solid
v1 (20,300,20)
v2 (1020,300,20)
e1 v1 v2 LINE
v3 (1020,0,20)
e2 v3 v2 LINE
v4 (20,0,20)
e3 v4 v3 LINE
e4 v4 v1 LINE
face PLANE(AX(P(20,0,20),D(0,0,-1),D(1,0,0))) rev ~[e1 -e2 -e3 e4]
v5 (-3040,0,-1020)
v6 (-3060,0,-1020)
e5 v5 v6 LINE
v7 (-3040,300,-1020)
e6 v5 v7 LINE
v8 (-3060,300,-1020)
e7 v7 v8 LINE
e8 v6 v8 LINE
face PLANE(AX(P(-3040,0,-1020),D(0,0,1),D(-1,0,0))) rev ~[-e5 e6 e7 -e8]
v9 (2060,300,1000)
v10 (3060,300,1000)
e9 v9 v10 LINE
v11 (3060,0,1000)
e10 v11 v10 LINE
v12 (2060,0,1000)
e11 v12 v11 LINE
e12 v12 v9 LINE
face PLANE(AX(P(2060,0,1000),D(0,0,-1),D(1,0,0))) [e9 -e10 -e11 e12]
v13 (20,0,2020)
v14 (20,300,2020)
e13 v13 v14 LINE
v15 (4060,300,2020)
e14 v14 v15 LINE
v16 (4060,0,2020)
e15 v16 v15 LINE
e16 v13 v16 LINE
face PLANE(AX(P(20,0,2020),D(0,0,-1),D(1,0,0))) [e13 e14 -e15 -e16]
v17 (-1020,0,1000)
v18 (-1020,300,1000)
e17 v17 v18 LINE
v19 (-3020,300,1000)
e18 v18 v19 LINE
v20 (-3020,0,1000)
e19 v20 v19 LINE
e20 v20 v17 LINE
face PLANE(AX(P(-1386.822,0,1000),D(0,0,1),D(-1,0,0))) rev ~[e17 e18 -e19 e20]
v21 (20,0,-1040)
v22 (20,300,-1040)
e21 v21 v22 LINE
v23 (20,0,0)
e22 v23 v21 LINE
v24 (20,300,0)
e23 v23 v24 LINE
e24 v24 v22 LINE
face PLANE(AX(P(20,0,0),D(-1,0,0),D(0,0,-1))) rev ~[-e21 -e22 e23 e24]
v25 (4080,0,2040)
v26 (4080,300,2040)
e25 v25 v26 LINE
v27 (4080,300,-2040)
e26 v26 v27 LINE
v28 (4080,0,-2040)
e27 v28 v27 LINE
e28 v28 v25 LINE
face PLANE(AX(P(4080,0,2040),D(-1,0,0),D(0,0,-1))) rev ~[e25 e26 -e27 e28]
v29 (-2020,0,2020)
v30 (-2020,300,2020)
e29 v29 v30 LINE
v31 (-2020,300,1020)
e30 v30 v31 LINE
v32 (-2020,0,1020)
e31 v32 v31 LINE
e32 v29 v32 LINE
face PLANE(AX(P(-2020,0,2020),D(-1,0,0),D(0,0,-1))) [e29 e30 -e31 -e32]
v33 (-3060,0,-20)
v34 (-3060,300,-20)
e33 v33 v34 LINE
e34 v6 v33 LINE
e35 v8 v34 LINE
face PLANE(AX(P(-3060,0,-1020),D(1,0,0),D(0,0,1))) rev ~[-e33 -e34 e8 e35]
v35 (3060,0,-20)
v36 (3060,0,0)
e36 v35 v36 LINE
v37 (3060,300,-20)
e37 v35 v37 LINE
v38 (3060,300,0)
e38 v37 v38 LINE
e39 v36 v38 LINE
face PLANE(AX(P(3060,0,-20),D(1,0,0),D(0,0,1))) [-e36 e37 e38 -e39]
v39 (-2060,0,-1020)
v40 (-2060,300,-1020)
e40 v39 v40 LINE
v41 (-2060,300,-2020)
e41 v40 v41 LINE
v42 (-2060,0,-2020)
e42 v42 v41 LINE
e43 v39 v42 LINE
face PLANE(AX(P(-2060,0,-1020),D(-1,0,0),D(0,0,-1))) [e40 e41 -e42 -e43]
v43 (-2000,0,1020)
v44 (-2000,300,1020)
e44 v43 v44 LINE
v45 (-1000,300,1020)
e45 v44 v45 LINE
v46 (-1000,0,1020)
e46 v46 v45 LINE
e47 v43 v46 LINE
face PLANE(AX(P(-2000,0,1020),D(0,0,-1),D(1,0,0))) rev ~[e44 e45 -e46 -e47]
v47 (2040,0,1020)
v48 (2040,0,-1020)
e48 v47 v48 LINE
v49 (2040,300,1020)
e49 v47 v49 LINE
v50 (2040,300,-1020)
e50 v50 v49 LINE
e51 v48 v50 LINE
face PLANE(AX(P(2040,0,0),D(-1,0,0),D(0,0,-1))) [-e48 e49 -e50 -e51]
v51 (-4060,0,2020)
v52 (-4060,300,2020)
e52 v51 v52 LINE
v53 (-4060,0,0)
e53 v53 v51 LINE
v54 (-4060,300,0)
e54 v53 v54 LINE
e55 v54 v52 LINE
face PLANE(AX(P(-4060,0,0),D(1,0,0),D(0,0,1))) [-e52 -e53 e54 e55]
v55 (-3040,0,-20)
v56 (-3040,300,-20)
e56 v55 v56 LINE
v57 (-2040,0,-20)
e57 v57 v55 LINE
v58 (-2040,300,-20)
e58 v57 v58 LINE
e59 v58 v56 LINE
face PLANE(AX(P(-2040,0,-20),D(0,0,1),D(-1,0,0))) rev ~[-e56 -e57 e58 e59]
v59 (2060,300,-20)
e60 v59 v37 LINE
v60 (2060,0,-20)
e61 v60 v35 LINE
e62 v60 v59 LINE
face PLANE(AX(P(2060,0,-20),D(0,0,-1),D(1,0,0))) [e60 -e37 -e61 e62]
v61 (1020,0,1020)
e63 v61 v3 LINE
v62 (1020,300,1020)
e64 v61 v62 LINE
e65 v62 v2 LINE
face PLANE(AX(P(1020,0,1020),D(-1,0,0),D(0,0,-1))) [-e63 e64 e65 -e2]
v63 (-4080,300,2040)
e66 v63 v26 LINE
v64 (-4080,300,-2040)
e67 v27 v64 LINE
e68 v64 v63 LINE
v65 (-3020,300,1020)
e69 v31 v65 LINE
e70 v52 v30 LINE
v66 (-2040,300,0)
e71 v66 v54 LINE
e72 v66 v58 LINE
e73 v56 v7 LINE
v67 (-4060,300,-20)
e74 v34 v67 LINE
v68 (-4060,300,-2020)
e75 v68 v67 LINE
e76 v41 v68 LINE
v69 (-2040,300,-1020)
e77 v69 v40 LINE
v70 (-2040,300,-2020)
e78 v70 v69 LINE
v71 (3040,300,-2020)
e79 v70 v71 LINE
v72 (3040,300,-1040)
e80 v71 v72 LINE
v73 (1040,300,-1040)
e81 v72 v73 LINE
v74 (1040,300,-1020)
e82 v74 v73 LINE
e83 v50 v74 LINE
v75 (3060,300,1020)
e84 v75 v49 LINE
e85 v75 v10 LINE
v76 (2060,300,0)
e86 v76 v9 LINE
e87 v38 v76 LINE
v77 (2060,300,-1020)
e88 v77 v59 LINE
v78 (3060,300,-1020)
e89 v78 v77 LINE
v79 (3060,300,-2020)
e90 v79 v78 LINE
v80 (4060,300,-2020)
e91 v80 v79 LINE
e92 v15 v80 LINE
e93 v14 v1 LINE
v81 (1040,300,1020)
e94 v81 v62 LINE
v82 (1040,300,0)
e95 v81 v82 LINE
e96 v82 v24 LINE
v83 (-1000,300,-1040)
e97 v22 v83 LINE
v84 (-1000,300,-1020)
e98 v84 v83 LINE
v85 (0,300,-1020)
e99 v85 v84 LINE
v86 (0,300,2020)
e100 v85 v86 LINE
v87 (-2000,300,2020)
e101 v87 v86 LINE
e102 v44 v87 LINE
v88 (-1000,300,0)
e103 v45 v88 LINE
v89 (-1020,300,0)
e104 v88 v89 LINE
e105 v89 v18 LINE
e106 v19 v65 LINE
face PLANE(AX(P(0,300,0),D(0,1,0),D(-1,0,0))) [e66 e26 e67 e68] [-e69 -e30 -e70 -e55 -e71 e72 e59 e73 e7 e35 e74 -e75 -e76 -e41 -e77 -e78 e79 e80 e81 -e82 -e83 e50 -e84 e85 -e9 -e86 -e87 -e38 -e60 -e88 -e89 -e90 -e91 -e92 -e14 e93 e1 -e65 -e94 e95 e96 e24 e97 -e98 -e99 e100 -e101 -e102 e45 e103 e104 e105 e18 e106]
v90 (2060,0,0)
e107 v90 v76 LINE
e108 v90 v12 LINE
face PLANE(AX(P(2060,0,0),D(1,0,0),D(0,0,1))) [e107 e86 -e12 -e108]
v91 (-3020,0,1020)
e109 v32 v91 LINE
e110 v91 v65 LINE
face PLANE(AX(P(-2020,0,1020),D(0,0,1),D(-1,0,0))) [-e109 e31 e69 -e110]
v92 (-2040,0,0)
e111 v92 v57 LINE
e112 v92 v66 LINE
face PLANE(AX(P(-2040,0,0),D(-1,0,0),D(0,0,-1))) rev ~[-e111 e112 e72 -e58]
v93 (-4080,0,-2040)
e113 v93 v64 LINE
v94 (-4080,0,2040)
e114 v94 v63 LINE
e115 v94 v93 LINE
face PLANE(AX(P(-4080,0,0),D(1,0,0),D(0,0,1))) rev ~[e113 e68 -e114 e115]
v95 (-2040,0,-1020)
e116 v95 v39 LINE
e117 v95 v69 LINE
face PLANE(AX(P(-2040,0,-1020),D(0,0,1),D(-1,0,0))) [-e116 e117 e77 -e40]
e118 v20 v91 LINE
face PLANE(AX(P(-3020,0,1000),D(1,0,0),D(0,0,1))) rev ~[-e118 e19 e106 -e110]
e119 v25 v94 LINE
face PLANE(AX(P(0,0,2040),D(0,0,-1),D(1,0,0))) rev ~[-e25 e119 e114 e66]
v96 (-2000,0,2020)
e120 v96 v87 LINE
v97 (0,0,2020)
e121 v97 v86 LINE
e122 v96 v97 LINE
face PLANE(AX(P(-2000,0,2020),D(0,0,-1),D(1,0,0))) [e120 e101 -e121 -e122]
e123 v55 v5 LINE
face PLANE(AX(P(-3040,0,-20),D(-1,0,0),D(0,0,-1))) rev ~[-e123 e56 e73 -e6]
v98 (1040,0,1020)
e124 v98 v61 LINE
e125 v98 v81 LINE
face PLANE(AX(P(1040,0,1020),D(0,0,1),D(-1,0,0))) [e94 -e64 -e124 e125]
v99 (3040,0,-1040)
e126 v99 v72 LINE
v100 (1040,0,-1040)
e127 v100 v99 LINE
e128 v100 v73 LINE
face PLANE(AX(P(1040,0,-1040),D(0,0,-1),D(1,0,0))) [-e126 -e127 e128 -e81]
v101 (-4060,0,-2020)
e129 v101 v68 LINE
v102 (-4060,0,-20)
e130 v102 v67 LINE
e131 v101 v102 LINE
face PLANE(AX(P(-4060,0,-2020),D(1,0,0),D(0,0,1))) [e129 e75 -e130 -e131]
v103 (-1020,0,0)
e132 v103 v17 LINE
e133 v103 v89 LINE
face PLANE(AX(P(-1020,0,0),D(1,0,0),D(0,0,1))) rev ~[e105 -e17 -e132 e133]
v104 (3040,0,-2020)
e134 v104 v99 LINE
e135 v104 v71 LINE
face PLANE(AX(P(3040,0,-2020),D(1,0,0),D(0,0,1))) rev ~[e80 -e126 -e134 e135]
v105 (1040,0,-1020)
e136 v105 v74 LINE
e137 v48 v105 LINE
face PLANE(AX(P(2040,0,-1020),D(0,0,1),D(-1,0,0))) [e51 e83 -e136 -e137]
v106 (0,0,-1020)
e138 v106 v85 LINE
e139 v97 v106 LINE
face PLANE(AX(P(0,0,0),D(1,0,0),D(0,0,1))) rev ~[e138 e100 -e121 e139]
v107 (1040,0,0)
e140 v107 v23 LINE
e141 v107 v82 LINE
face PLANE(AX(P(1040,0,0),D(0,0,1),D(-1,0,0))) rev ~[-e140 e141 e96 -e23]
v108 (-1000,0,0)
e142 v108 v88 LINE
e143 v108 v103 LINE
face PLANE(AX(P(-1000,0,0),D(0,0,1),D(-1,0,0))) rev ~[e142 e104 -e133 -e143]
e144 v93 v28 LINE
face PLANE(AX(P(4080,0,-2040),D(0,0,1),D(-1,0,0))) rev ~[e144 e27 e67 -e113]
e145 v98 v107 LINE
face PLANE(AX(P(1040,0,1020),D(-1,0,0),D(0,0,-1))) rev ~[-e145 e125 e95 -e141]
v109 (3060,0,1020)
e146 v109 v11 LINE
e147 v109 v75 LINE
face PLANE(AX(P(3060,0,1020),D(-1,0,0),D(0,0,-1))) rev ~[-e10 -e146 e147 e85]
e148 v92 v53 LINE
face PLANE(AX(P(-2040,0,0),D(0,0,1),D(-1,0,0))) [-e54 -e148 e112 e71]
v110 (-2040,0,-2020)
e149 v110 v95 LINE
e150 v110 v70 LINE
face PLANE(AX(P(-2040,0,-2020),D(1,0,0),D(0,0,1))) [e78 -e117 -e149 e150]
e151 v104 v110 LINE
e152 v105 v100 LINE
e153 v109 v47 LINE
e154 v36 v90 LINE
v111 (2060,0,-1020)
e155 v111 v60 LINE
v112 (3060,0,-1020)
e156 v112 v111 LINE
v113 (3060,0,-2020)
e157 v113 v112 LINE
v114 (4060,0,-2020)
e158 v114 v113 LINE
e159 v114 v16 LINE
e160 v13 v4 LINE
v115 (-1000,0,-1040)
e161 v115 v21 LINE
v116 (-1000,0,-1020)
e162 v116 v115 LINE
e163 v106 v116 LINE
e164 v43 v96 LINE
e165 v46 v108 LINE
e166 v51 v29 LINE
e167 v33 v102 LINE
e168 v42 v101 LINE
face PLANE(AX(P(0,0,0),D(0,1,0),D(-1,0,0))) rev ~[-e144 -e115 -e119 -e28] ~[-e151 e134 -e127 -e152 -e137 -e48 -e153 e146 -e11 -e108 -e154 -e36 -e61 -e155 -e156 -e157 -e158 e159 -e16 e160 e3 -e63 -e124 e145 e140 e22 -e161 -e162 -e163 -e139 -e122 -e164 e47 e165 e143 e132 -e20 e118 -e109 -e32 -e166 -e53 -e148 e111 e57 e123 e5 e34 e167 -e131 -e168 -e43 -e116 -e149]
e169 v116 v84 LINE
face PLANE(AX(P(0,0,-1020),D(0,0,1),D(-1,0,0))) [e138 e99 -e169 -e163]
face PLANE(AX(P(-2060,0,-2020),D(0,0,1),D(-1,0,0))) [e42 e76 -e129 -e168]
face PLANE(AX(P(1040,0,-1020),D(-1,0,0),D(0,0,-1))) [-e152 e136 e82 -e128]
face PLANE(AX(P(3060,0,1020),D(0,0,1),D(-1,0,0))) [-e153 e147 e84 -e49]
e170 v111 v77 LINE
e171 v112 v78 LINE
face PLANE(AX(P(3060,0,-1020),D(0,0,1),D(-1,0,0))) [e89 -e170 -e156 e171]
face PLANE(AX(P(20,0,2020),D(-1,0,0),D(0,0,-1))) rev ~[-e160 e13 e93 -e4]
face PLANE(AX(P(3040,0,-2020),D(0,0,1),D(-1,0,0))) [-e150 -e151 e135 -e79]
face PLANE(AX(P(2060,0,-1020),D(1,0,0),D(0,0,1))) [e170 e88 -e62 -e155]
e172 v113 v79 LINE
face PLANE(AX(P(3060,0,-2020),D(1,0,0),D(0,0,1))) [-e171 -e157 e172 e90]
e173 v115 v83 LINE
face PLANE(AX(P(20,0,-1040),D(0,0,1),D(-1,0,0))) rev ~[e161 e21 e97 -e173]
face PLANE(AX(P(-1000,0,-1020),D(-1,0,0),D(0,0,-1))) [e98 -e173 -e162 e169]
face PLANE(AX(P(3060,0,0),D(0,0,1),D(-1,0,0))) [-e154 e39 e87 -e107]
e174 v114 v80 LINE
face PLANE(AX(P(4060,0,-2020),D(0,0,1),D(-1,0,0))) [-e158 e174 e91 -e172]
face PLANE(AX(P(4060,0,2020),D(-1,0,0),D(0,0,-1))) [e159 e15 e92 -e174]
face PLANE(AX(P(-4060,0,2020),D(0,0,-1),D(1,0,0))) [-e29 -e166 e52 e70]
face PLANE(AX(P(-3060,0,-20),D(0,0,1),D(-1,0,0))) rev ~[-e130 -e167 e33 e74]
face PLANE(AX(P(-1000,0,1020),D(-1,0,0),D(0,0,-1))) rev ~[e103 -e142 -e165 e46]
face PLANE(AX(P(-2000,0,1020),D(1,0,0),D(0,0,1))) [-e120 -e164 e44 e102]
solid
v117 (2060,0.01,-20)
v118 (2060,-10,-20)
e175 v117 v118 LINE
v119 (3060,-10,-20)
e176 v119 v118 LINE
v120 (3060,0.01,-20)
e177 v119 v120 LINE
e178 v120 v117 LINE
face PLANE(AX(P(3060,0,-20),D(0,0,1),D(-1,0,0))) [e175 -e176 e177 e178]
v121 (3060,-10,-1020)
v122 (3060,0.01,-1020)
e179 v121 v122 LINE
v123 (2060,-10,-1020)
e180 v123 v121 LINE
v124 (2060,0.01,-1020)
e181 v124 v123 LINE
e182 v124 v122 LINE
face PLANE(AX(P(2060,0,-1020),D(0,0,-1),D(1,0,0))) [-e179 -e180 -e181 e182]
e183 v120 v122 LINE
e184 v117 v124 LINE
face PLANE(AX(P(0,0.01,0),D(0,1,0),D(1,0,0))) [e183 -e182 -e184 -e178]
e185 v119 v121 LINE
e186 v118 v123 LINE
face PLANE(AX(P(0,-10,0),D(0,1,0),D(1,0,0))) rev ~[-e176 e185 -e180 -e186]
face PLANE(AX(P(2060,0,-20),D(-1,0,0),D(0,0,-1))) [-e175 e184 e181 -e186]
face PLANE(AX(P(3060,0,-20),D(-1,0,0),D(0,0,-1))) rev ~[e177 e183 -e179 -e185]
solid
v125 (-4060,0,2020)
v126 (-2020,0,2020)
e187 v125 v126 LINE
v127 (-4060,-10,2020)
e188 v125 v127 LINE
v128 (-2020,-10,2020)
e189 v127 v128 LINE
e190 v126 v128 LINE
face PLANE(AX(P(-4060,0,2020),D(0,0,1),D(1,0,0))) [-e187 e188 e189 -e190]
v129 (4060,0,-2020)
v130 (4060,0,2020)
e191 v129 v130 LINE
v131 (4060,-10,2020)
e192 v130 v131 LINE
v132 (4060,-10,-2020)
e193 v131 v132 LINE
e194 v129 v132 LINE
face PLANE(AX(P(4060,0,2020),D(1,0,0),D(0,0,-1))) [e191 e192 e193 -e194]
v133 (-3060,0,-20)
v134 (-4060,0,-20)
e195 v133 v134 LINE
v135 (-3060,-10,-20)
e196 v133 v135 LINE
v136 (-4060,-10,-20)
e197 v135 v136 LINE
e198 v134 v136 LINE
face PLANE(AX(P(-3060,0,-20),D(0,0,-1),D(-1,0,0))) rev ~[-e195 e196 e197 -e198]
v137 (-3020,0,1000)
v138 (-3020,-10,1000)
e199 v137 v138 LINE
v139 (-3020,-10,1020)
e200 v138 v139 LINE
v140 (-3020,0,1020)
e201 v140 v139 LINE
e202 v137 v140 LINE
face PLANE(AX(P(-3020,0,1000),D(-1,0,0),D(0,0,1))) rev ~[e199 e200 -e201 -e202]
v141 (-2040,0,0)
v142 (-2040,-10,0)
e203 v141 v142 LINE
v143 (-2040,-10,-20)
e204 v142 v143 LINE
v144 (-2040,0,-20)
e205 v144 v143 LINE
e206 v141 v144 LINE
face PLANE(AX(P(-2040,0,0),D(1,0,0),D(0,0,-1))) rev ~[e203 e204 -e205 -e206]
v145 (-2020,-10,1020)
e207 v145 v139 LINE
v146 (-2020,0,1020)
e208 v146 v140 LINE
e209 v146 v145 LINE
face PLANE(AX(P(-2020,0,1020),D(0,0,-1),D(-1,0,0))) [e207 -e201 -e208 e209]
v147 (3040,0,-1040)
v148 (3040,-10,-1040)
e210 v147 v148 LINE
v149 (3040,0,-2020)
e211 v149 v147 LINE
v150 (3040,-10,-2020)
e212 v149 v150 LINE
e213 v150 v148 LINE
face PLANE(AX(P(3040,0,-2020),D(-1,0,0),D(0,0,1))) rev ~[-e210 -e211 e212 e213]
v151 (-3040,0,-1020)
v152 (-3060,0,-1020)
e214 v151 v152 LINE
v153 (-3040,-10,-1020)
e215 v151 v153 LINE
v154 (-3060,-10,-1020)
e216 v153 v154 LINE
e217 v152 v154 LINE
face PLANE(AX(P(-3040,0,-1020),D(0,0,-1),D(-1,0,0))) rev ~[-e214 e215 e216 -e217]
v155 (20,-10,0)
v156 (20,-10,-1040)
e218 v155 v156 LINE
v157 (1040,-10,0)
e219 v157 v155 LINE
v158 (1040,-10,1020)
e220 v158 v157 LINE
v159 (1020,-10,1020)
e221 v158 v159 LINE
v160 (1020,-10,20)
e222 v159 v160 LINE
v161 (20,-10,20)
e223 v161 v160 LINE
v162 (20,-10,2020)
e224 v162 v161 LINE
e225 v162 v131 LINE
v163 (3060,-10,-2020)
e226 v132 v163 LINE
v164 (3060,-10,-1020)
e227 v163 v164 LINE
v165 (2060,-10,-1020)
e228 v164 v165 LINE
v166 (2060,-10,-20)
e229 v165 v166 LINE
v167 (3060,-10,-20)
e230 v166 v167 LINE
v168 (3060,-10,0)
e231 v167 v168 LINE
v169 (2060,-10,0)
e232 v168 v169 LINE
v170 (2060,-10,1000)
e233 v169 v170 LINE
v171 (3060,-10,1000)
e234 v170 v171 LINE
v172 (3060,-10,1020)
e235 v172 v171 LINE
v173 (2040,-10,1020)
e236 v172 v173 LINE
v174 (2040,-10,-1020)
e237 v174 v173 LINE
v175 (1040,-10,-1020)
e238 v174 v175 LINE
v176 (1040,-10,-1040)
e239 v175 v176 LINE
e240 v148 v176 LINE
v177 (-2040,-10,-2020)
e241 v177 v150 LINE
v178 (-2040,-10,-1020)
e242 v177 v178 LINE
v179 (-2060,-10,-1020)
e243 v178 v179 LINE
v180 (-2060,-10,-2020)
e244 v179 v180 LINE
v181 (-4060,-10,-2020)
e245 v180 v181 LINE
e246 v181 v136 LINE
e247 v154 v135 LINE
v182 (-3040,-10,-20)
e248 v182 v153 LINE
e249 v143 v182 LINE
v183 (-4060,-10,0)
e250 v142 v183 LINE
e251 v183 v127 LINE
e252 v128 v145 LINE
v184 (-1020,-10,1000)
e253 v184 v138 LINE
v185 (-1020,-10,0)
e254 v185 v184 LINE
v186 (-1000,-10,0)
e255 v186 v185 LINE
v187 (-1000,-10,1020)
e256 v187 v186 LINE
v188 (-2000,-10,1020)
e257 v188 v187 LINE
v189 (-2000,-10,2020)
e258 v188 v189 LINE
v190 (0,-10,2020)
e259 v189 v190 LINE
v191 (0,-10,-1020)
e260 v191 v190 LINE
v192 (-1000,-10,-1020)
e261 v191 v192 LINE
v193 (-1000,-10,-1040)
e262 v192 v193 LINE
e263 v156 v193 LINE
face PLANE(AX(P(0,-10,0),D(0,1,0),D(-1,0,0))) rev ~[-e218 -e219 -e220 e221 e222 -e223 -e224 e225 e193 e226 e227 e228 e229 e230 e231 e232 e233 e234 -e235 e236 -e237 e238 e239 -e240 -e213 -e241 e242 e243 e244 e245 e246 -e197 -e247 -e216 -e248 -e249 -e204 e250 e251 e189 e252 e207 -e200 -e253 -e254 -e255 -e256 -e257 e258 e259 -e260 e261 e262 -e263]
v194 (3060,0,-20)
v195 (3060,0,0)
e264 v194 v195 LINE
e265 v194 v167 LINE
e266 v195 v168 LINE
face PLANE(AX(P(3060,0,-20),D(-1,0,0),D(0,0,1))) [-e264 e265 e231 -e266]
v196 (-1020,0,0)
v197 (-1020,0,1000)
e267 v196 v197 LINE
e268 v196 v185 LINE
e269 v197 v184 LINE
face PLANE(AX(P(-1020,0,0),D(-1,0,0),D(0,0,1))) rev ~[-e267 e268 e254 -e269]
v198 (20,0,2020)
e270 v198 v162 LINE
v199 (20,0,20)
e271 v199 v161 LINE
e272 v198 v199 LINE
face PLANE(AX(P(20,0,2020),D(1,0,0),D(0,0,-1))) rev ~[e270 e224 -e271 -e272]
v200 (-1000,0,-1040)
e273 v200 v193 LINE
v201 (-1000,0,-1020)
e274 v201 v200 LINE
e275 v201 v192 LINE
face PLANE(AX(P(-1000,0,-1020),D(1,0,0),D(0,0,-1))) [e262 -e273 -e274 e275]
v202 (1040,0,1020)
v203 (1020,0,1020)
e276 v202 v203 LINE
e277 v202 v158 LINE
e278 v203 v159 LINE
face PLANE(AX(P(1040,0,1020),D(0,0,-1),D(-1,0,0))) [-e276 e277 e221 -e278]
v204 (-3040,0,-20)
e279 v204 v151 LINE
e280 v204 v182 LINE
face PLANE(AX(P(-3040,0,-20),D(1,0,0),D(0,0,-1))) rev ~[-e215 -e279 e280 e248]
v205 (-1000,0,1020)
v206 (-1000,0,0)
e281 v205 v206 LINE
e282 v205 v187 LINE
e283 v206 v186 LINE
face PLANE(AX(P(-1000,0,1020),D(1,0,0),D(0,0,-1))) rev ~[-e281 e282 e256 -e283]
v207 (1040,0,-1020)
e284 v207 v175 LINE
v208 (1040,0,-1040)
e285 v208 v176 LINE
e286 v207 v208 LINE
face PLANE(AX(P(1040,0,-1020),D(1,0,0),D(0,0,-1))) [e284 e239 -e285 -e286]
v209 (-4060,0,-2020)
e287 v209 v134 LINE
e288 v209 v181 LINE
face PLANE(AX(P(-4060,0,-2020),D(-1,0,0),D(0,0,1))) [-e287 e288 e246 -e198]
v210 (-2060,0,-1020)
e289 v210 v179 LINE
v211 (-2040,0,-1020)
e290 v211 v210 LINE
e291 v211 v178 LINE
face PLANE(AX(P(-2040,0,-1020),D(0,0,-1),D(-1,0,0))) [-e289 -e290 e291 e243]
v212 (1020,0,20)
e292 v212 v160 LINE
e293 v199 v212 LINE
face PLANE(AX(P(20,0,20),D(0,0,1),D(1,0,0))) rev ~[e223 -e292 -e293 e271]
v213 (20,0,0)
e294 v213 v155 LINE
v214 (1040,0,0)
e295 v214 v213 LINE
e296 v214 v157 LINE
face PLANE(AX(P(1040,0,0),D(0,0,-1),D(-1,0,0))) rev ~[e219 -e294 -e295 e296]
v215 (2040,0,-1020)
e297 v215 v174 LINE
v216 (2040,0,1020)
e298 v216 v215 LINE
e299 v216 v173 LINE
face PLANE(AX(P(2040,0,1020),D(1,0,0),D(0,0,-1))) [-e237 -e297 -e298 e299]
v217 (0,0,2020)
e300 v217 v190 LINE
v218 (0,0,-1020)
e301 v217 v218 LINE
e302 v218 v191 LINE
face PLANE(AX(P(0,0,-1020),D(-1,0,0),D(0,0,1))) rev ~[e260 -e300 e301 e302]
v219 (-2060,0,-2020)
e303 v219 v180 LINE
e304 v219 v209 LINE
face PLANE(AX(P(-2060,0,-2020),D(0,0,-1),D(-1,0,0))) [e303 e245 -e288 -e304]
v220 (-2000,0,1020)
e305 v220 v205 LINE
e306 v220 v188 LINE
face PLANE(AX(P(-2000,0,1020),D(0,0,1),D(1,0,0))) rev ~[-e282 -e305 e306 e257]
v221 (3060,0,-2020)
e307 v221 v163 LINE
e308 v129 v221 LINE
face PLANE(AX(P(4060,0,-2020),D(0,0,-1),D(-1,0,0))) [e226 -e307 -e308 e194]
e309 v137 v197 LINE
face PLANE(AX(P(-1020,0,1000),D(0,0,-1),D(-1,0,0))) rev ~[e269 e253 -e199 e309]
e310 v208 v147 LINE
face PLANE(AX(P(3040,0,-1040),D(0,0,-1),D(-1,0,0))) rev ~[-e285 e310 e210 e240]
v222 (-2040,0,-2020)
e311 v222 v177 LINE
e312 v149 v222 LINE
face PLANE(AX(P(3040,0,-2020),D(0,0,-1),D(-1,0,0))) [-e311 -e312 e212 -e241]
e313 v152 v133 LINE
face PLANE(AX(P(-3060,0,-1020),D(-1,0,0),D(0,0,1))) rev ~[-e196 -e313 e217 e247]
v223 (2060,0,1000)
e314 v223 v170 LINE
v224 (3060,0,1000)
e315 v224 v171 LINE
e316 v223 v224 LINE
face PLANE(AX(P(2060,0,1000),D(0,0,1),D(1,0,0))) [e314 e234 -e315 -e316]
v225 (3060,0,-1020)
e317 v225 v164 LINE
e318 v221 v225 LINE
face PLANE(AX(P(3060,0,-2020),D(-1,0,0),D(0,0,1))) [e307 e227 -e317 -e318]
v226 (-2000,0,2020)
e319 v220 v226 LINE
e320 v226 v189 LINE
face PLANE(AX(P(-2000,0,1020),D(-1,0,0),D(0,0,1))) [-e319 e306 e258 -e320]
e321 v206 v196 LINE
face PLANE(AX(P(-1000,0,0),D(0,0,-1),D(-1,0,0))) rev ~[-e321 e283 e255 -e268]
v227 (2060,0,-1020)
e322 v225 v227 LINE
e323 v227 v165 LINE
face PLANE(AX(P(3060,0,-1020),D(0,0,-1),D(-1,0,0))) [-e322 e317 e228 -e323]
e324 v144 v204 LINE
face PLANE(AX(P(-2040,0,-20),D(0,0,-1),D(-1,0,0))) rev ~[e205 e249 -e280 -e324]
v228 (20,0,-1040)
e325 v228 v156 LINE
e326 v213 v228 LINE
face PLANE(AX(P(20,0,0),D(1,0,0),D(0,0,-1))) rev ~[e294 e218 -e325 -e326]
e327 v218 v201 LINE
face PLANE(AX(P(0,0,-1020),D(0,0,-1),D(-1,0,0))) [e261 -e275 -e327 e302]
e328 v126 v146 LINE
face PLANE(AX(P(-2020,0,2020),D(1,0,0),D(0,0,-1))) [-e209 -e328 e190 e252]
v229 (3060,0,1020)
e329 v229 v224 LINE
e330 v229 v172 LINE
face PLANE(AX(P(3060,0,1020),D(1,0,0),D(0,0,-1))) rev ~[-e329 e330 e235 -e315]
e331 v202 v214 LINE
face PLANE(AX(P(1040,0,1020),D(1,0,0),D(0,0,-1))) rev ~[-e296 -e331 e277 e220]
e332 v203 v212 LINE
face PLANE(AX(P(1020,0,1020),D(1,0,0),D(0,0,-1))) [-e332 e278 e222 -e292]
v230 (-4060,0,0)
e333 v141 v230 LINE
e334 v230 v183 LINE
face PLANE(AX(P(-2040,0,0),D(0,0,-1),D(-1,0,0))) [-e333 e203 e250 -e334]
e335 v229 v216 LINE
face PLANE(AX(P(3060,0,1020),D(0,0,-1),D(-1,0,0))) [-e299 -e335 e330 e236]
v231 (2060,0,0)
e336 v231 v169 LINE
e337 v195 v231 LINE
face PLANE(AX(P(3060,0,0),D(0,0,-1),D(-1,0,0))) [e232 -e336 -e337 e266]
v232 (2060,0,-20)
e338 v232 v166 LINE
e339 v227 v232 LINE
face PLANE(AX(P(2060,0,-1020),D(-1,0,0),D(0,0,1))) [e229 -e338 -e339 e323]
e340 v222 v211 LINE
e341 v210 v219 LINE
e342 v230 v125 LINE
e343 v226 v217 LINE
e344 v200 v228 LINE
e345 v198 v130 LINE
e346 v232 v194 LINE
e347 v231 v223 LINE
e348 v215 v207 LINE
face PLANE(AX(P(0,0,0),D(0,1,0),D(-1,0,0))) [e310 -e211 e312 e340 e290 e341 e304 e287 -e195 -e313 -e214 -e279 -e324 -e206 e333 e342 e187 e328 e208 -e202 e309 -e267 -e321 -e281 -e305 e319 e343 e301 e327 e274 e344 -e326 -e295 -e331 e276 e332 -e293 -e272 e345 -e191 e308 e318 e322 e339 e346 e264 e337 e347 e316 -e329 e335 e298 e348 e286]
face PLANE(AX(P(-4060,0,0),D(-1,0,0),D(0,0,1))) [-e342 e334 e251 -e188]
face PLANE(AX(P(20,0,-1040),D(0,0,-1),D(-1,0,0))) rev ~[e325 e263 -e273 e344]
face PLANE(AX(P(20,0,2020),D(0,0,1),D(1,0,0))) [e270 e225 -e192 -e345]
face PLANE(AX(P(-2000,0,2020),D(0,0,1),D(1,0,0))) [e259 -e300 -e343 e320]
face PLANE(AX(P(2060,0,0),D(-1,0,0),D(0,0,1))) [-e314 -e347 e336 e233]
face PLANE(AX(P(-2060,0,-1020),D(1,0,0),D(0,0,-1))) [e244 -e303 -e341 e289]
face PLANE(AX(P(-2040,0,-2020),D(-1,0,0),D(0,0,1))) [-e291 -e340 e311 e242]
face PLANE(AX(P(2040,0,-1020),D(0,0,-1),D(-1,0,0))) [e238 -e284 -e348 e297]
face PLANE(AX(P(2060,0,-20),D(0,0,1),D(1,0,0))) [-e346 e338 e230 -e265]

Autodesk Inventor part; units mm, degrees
ref_plane "YZ Plane" through (0, 0, 0) normal (1, 0, 0) x (0, 1, 0)
ref_plane "XZ Plane" through (0, 0, 0) normal (0, 1, 0) x (-1, 0, 0)
ref_plane "XY Plane" through (0, 0, 0) normal (0, 0, 1) x (1, 0, 0)
sketch "Эскиз1" plane through (0, 0, 0) normal (0, 1, 0) x (-1, 0, 0)
  line L0 (-4060, 2020) -> (-4060, -2020)
  line L1 (-3060, -2020) -> (-3060, -1020)
  line L2 (-2060, 1000) -> (-3060, 1000)
  line L3 (-2060, -20) -> (-3060, -20)
  line L4 (-5712, 0) -> (5712, 0) projected
  line L5 (5712, 0) -> (-5712, 0) projected
  line L6 (0, -2856) -> (0, 2856) projected
  line L7 (4080, 2040) -> (-4080, 2040)
  line L8 (-4080, 2040) -> (-4080, -2040)
  line L9 (-4080, -2040) -> (4080, -2040)
  line L10 (4080, -2040) -> (4080, 2040)
  line L11 (-3040, -2020) -> (-3040, -1040)
  line L12 (-3040, -1040) -> (-2040, -1040)
  line L13 (-2060, 0) -> (-3060, 0)
  line L14 (-3060, 1020) -> (-2040, 1020)
  line L15 (-2040, 1020) -> (-2040, -1020)
  line L16 (-3060, -1020) -> (-2060, -1020)
  line L17 (-2060, -1020) -> (-2060, -20)
  line L18 (-2060, 0) -> (-2060, 1000)
  line L19 (-3060, 1020) -> (-3060, 1000)
  line L20 (-3060, -20) -> (-3060, 0)
  line L21 (-20, -1040) -> (1000, -1040)
  line L22 (0, 2020) -> (0, -1020)
  line L23 (0, -1020) -> (1000, -1020)
  line L24 (1000, -1020) -> (1000, -1040)
  line L25 (-2040, -1020) -> (-1040, -1020)
  line L26 (-1040, -1020) -> (-1040, -1040)
  line L27 (-1040, -1040) -> (-2040, -1040)
  line L28 (-1040, 1020) -> (-1040, 0)
  line L29 (-1040, 0) -> (-20, 0)
  line L30 (-1020, 1020) -> (-1020, 20)
  line L31 (-20, 2020) -> (-20, 20)
  line L32 (-20, 0) -> (-20, -1040)
  line L33 (-1040, 1020) -> (-1020, 1020)
  line L34 (2040, -2020) -> (2040, -1020)
  line L35 (2040, -1020) -> (2060, -1020)
  line L36 (2060, -1020) -> (2060, -2020)
  line L37 (2000, 1020) -> (2000, 2020)
  line L38 (2020, 2020) -> (2020, 1020)
  line L39 (2000, 1020) -> (1000, 1020)
  line L40 (1000, 1020) -> (1000, 0)
  line L41 (1386.822, 1000) -> (1386.822, 997)
  line L42 (-20, 2020) -> (-4060, 2020)
  line L43 (4060, 2020) -> (2020, 2020)
  line L44 (2000, 2020) -> (0, 2020)
  line L45 (-20, 20) -> (-1020, 20)
  line L46 (4060, 0) -> (2040, 0)
  line L47 (2040, 0) -> (2040, -20)
  line L48 (2040, -20) -> (3040, -20)
  line L49 (3040, -20) -> (3040, -1020)
  line L50 (3040, -1020) -> (3060, -1020)
  line L51 (3060, -1020) -> (3060, -20)
  line L52 (3060, -20) -> (4060, -20)
  line L53 (4060, -2020) -> (4060, -20)
  line L54 (4060, 0) -> (4060, 2020)
  line L55 (-4060, -2020) -> (2040, -2020)
  line L56 (2060, -2020) -> (4060, -2020)
  line L57 (1000, 0) -> (1020, 0)
  line L58 (1020, 0) -> (1020, 1000)
  line L59 (1020, 1000) -> (3020, 1000)
  line L60 (3020, 1000) -> (3020, 1020)
  line L61 (2020, 1020) -> (3020, 1020)
  point P0 (0, 0)
  point P1 (4080, 0)
  point P2 (0, 2040)
  point P3 (1093.178, 0)
  point P4 (-20, 0)
  point P5 (0, 1020)
  point P6 (0, 2020)
  point P7 (-4060, 0)
  point P8 (0, 0)
  point P9 (9.9936, 474.3673)
  point P10 (-4080, 0)
  point P11 (0, -2040)
  point P12 (-1040, 0)
  point P13 (0, -2020)
  point P14 (0, -1020)
  point P15 (0, -1040)
  dimension "d6" = 20
  dimension "d10" = 1000
  dimension "d11" = 1000
  dimension "d17" = 20
  dimension "d18" = 20
  dimension "d20" = 20
  dimension "d21" = 20
  dimension "d22" = 20
  dimension "d23" = 1000
  dimension "d24" = 20
  dimension "d26" = 20
  dimension "d27" = 20
  dimension "d28" = 20
  dimension "d29" = 20
  dimension "d30" = 20
  dimension "d31" = 20
  dimension "d32" = 20
  dimension "d33" = 20
  dimension "d34" = 20
  dimension "d35" = 20
extrude "Выдавливание1" add sketch "Эскиз1" along normal blind 300 contours L0 L4 L8 L7 L6 L28 L33 L30 L45 L31 L42 | L0 L55 L6 L9 L8 L4 | L4 L15 L25 L26 L27 L12 L11 L55 L1 L16 L17 L3 L20 | L18 L2 L19 L14 L15 L4 | L7 L10 L4 L54 L43 L38 L61 L60 L59 L58 L40 L39 L37 L44 L6 | L6 L55 L34 L35 L36 L56 L53 L52 L51 L50 L49 L48 L47 L4 L10 L9 | L21 L32 L4 L6 | L6 L23 L24 L21
extrude "Выдавливание2" add sketch "Эскиз1" against normal blind 10 contours L42 L31 L45 L30 L33 L28 L4 L15 L14 L19 L2 L18 L0 | L4 L20 L3 L17 L16 L1 L55 L0 | L11 L12 L27 L26 L25 L15 L4 L32 L21 L6 L55 | L6 L21 L24 L23 L4 L47 L48 L49 L50 L51 L52 L53 L56 L36 L35 L34 L55 | L44 L37 L39 L40 L4 L6 | L4 L58 L59 L60 L61 L38 L43 L54
ref_plane "РабПлоскость1" through (3060, 300, 1020) normal (1, 0, 0) x (0, 0, -1)
sketch "Эскиз2" plane through (0, 0, 0) normal (0, 1, 0) x (1, 0, 0)
  line L0 (3060, 20) -> (2060, 20) projected
  line L1 (3060, 20) -> (3060, 1024)
  line L2 (2060, 20) -> (2060, 1020) projected
  line L3 (2060, 1020) -> (3060, 1020) projected
  point P0 (0, 0)
extrude "Выдавливание3" add sketch "Эскиз2" along normal blind 0.01 and the other way blind 10 separate body
sketch "Эскиз3" plane through (0, 0, 0) normal (0, 1, 0) x (1, 0, 0)
  line L0 (4080, -2040) -> (4080, 2040) projected
  line L1 (-4080, 2040) -> (-4080, -2040) projected
  line L2 (4060, 2020) -> (4060, -2020) projected
  line L3 (3060, 1020) -> (3060, 2020) projected
  line L4 (-4080, -2040) -> (4080, -2040) projected
  line L5 (4080, 2040) -> (-4080, 2040) projected
  line L6 (3060, 20) -> (2060, 20) projected
  line L7 (2060, 1020) -> (3060, 1020) projected
  point P0 (0, 0)
  dimension "d41" = 8160
  dimension "d42" = 1000
  dimension "d43" = 4080
  dimension "d44" = 1000
equation "\"d10\" = d1"
equation "\"d20\" = d3"
equation "\"d21\" = d3"
equation "\"d22\" = d3"
equation "\"d23\" = d1"
equation "\"d24\" = d3"
equation "\"d26\" = d3"
equation "\"d27\" = d3"
equation "\"d28\" = d3"
equation "\"d29\" = d3"
equation "\"d30\" = d3"
equation "\"d31\" = d3"
equation "\"d32\" = d3"
equation "\"d33\" = d3"
equation "\"d34\" = d3"
equation "\"d35\" = d3"
equation "\"d1\" = 1000"
equation "\"d3\" = 20"
properties part number "лабиринт"
